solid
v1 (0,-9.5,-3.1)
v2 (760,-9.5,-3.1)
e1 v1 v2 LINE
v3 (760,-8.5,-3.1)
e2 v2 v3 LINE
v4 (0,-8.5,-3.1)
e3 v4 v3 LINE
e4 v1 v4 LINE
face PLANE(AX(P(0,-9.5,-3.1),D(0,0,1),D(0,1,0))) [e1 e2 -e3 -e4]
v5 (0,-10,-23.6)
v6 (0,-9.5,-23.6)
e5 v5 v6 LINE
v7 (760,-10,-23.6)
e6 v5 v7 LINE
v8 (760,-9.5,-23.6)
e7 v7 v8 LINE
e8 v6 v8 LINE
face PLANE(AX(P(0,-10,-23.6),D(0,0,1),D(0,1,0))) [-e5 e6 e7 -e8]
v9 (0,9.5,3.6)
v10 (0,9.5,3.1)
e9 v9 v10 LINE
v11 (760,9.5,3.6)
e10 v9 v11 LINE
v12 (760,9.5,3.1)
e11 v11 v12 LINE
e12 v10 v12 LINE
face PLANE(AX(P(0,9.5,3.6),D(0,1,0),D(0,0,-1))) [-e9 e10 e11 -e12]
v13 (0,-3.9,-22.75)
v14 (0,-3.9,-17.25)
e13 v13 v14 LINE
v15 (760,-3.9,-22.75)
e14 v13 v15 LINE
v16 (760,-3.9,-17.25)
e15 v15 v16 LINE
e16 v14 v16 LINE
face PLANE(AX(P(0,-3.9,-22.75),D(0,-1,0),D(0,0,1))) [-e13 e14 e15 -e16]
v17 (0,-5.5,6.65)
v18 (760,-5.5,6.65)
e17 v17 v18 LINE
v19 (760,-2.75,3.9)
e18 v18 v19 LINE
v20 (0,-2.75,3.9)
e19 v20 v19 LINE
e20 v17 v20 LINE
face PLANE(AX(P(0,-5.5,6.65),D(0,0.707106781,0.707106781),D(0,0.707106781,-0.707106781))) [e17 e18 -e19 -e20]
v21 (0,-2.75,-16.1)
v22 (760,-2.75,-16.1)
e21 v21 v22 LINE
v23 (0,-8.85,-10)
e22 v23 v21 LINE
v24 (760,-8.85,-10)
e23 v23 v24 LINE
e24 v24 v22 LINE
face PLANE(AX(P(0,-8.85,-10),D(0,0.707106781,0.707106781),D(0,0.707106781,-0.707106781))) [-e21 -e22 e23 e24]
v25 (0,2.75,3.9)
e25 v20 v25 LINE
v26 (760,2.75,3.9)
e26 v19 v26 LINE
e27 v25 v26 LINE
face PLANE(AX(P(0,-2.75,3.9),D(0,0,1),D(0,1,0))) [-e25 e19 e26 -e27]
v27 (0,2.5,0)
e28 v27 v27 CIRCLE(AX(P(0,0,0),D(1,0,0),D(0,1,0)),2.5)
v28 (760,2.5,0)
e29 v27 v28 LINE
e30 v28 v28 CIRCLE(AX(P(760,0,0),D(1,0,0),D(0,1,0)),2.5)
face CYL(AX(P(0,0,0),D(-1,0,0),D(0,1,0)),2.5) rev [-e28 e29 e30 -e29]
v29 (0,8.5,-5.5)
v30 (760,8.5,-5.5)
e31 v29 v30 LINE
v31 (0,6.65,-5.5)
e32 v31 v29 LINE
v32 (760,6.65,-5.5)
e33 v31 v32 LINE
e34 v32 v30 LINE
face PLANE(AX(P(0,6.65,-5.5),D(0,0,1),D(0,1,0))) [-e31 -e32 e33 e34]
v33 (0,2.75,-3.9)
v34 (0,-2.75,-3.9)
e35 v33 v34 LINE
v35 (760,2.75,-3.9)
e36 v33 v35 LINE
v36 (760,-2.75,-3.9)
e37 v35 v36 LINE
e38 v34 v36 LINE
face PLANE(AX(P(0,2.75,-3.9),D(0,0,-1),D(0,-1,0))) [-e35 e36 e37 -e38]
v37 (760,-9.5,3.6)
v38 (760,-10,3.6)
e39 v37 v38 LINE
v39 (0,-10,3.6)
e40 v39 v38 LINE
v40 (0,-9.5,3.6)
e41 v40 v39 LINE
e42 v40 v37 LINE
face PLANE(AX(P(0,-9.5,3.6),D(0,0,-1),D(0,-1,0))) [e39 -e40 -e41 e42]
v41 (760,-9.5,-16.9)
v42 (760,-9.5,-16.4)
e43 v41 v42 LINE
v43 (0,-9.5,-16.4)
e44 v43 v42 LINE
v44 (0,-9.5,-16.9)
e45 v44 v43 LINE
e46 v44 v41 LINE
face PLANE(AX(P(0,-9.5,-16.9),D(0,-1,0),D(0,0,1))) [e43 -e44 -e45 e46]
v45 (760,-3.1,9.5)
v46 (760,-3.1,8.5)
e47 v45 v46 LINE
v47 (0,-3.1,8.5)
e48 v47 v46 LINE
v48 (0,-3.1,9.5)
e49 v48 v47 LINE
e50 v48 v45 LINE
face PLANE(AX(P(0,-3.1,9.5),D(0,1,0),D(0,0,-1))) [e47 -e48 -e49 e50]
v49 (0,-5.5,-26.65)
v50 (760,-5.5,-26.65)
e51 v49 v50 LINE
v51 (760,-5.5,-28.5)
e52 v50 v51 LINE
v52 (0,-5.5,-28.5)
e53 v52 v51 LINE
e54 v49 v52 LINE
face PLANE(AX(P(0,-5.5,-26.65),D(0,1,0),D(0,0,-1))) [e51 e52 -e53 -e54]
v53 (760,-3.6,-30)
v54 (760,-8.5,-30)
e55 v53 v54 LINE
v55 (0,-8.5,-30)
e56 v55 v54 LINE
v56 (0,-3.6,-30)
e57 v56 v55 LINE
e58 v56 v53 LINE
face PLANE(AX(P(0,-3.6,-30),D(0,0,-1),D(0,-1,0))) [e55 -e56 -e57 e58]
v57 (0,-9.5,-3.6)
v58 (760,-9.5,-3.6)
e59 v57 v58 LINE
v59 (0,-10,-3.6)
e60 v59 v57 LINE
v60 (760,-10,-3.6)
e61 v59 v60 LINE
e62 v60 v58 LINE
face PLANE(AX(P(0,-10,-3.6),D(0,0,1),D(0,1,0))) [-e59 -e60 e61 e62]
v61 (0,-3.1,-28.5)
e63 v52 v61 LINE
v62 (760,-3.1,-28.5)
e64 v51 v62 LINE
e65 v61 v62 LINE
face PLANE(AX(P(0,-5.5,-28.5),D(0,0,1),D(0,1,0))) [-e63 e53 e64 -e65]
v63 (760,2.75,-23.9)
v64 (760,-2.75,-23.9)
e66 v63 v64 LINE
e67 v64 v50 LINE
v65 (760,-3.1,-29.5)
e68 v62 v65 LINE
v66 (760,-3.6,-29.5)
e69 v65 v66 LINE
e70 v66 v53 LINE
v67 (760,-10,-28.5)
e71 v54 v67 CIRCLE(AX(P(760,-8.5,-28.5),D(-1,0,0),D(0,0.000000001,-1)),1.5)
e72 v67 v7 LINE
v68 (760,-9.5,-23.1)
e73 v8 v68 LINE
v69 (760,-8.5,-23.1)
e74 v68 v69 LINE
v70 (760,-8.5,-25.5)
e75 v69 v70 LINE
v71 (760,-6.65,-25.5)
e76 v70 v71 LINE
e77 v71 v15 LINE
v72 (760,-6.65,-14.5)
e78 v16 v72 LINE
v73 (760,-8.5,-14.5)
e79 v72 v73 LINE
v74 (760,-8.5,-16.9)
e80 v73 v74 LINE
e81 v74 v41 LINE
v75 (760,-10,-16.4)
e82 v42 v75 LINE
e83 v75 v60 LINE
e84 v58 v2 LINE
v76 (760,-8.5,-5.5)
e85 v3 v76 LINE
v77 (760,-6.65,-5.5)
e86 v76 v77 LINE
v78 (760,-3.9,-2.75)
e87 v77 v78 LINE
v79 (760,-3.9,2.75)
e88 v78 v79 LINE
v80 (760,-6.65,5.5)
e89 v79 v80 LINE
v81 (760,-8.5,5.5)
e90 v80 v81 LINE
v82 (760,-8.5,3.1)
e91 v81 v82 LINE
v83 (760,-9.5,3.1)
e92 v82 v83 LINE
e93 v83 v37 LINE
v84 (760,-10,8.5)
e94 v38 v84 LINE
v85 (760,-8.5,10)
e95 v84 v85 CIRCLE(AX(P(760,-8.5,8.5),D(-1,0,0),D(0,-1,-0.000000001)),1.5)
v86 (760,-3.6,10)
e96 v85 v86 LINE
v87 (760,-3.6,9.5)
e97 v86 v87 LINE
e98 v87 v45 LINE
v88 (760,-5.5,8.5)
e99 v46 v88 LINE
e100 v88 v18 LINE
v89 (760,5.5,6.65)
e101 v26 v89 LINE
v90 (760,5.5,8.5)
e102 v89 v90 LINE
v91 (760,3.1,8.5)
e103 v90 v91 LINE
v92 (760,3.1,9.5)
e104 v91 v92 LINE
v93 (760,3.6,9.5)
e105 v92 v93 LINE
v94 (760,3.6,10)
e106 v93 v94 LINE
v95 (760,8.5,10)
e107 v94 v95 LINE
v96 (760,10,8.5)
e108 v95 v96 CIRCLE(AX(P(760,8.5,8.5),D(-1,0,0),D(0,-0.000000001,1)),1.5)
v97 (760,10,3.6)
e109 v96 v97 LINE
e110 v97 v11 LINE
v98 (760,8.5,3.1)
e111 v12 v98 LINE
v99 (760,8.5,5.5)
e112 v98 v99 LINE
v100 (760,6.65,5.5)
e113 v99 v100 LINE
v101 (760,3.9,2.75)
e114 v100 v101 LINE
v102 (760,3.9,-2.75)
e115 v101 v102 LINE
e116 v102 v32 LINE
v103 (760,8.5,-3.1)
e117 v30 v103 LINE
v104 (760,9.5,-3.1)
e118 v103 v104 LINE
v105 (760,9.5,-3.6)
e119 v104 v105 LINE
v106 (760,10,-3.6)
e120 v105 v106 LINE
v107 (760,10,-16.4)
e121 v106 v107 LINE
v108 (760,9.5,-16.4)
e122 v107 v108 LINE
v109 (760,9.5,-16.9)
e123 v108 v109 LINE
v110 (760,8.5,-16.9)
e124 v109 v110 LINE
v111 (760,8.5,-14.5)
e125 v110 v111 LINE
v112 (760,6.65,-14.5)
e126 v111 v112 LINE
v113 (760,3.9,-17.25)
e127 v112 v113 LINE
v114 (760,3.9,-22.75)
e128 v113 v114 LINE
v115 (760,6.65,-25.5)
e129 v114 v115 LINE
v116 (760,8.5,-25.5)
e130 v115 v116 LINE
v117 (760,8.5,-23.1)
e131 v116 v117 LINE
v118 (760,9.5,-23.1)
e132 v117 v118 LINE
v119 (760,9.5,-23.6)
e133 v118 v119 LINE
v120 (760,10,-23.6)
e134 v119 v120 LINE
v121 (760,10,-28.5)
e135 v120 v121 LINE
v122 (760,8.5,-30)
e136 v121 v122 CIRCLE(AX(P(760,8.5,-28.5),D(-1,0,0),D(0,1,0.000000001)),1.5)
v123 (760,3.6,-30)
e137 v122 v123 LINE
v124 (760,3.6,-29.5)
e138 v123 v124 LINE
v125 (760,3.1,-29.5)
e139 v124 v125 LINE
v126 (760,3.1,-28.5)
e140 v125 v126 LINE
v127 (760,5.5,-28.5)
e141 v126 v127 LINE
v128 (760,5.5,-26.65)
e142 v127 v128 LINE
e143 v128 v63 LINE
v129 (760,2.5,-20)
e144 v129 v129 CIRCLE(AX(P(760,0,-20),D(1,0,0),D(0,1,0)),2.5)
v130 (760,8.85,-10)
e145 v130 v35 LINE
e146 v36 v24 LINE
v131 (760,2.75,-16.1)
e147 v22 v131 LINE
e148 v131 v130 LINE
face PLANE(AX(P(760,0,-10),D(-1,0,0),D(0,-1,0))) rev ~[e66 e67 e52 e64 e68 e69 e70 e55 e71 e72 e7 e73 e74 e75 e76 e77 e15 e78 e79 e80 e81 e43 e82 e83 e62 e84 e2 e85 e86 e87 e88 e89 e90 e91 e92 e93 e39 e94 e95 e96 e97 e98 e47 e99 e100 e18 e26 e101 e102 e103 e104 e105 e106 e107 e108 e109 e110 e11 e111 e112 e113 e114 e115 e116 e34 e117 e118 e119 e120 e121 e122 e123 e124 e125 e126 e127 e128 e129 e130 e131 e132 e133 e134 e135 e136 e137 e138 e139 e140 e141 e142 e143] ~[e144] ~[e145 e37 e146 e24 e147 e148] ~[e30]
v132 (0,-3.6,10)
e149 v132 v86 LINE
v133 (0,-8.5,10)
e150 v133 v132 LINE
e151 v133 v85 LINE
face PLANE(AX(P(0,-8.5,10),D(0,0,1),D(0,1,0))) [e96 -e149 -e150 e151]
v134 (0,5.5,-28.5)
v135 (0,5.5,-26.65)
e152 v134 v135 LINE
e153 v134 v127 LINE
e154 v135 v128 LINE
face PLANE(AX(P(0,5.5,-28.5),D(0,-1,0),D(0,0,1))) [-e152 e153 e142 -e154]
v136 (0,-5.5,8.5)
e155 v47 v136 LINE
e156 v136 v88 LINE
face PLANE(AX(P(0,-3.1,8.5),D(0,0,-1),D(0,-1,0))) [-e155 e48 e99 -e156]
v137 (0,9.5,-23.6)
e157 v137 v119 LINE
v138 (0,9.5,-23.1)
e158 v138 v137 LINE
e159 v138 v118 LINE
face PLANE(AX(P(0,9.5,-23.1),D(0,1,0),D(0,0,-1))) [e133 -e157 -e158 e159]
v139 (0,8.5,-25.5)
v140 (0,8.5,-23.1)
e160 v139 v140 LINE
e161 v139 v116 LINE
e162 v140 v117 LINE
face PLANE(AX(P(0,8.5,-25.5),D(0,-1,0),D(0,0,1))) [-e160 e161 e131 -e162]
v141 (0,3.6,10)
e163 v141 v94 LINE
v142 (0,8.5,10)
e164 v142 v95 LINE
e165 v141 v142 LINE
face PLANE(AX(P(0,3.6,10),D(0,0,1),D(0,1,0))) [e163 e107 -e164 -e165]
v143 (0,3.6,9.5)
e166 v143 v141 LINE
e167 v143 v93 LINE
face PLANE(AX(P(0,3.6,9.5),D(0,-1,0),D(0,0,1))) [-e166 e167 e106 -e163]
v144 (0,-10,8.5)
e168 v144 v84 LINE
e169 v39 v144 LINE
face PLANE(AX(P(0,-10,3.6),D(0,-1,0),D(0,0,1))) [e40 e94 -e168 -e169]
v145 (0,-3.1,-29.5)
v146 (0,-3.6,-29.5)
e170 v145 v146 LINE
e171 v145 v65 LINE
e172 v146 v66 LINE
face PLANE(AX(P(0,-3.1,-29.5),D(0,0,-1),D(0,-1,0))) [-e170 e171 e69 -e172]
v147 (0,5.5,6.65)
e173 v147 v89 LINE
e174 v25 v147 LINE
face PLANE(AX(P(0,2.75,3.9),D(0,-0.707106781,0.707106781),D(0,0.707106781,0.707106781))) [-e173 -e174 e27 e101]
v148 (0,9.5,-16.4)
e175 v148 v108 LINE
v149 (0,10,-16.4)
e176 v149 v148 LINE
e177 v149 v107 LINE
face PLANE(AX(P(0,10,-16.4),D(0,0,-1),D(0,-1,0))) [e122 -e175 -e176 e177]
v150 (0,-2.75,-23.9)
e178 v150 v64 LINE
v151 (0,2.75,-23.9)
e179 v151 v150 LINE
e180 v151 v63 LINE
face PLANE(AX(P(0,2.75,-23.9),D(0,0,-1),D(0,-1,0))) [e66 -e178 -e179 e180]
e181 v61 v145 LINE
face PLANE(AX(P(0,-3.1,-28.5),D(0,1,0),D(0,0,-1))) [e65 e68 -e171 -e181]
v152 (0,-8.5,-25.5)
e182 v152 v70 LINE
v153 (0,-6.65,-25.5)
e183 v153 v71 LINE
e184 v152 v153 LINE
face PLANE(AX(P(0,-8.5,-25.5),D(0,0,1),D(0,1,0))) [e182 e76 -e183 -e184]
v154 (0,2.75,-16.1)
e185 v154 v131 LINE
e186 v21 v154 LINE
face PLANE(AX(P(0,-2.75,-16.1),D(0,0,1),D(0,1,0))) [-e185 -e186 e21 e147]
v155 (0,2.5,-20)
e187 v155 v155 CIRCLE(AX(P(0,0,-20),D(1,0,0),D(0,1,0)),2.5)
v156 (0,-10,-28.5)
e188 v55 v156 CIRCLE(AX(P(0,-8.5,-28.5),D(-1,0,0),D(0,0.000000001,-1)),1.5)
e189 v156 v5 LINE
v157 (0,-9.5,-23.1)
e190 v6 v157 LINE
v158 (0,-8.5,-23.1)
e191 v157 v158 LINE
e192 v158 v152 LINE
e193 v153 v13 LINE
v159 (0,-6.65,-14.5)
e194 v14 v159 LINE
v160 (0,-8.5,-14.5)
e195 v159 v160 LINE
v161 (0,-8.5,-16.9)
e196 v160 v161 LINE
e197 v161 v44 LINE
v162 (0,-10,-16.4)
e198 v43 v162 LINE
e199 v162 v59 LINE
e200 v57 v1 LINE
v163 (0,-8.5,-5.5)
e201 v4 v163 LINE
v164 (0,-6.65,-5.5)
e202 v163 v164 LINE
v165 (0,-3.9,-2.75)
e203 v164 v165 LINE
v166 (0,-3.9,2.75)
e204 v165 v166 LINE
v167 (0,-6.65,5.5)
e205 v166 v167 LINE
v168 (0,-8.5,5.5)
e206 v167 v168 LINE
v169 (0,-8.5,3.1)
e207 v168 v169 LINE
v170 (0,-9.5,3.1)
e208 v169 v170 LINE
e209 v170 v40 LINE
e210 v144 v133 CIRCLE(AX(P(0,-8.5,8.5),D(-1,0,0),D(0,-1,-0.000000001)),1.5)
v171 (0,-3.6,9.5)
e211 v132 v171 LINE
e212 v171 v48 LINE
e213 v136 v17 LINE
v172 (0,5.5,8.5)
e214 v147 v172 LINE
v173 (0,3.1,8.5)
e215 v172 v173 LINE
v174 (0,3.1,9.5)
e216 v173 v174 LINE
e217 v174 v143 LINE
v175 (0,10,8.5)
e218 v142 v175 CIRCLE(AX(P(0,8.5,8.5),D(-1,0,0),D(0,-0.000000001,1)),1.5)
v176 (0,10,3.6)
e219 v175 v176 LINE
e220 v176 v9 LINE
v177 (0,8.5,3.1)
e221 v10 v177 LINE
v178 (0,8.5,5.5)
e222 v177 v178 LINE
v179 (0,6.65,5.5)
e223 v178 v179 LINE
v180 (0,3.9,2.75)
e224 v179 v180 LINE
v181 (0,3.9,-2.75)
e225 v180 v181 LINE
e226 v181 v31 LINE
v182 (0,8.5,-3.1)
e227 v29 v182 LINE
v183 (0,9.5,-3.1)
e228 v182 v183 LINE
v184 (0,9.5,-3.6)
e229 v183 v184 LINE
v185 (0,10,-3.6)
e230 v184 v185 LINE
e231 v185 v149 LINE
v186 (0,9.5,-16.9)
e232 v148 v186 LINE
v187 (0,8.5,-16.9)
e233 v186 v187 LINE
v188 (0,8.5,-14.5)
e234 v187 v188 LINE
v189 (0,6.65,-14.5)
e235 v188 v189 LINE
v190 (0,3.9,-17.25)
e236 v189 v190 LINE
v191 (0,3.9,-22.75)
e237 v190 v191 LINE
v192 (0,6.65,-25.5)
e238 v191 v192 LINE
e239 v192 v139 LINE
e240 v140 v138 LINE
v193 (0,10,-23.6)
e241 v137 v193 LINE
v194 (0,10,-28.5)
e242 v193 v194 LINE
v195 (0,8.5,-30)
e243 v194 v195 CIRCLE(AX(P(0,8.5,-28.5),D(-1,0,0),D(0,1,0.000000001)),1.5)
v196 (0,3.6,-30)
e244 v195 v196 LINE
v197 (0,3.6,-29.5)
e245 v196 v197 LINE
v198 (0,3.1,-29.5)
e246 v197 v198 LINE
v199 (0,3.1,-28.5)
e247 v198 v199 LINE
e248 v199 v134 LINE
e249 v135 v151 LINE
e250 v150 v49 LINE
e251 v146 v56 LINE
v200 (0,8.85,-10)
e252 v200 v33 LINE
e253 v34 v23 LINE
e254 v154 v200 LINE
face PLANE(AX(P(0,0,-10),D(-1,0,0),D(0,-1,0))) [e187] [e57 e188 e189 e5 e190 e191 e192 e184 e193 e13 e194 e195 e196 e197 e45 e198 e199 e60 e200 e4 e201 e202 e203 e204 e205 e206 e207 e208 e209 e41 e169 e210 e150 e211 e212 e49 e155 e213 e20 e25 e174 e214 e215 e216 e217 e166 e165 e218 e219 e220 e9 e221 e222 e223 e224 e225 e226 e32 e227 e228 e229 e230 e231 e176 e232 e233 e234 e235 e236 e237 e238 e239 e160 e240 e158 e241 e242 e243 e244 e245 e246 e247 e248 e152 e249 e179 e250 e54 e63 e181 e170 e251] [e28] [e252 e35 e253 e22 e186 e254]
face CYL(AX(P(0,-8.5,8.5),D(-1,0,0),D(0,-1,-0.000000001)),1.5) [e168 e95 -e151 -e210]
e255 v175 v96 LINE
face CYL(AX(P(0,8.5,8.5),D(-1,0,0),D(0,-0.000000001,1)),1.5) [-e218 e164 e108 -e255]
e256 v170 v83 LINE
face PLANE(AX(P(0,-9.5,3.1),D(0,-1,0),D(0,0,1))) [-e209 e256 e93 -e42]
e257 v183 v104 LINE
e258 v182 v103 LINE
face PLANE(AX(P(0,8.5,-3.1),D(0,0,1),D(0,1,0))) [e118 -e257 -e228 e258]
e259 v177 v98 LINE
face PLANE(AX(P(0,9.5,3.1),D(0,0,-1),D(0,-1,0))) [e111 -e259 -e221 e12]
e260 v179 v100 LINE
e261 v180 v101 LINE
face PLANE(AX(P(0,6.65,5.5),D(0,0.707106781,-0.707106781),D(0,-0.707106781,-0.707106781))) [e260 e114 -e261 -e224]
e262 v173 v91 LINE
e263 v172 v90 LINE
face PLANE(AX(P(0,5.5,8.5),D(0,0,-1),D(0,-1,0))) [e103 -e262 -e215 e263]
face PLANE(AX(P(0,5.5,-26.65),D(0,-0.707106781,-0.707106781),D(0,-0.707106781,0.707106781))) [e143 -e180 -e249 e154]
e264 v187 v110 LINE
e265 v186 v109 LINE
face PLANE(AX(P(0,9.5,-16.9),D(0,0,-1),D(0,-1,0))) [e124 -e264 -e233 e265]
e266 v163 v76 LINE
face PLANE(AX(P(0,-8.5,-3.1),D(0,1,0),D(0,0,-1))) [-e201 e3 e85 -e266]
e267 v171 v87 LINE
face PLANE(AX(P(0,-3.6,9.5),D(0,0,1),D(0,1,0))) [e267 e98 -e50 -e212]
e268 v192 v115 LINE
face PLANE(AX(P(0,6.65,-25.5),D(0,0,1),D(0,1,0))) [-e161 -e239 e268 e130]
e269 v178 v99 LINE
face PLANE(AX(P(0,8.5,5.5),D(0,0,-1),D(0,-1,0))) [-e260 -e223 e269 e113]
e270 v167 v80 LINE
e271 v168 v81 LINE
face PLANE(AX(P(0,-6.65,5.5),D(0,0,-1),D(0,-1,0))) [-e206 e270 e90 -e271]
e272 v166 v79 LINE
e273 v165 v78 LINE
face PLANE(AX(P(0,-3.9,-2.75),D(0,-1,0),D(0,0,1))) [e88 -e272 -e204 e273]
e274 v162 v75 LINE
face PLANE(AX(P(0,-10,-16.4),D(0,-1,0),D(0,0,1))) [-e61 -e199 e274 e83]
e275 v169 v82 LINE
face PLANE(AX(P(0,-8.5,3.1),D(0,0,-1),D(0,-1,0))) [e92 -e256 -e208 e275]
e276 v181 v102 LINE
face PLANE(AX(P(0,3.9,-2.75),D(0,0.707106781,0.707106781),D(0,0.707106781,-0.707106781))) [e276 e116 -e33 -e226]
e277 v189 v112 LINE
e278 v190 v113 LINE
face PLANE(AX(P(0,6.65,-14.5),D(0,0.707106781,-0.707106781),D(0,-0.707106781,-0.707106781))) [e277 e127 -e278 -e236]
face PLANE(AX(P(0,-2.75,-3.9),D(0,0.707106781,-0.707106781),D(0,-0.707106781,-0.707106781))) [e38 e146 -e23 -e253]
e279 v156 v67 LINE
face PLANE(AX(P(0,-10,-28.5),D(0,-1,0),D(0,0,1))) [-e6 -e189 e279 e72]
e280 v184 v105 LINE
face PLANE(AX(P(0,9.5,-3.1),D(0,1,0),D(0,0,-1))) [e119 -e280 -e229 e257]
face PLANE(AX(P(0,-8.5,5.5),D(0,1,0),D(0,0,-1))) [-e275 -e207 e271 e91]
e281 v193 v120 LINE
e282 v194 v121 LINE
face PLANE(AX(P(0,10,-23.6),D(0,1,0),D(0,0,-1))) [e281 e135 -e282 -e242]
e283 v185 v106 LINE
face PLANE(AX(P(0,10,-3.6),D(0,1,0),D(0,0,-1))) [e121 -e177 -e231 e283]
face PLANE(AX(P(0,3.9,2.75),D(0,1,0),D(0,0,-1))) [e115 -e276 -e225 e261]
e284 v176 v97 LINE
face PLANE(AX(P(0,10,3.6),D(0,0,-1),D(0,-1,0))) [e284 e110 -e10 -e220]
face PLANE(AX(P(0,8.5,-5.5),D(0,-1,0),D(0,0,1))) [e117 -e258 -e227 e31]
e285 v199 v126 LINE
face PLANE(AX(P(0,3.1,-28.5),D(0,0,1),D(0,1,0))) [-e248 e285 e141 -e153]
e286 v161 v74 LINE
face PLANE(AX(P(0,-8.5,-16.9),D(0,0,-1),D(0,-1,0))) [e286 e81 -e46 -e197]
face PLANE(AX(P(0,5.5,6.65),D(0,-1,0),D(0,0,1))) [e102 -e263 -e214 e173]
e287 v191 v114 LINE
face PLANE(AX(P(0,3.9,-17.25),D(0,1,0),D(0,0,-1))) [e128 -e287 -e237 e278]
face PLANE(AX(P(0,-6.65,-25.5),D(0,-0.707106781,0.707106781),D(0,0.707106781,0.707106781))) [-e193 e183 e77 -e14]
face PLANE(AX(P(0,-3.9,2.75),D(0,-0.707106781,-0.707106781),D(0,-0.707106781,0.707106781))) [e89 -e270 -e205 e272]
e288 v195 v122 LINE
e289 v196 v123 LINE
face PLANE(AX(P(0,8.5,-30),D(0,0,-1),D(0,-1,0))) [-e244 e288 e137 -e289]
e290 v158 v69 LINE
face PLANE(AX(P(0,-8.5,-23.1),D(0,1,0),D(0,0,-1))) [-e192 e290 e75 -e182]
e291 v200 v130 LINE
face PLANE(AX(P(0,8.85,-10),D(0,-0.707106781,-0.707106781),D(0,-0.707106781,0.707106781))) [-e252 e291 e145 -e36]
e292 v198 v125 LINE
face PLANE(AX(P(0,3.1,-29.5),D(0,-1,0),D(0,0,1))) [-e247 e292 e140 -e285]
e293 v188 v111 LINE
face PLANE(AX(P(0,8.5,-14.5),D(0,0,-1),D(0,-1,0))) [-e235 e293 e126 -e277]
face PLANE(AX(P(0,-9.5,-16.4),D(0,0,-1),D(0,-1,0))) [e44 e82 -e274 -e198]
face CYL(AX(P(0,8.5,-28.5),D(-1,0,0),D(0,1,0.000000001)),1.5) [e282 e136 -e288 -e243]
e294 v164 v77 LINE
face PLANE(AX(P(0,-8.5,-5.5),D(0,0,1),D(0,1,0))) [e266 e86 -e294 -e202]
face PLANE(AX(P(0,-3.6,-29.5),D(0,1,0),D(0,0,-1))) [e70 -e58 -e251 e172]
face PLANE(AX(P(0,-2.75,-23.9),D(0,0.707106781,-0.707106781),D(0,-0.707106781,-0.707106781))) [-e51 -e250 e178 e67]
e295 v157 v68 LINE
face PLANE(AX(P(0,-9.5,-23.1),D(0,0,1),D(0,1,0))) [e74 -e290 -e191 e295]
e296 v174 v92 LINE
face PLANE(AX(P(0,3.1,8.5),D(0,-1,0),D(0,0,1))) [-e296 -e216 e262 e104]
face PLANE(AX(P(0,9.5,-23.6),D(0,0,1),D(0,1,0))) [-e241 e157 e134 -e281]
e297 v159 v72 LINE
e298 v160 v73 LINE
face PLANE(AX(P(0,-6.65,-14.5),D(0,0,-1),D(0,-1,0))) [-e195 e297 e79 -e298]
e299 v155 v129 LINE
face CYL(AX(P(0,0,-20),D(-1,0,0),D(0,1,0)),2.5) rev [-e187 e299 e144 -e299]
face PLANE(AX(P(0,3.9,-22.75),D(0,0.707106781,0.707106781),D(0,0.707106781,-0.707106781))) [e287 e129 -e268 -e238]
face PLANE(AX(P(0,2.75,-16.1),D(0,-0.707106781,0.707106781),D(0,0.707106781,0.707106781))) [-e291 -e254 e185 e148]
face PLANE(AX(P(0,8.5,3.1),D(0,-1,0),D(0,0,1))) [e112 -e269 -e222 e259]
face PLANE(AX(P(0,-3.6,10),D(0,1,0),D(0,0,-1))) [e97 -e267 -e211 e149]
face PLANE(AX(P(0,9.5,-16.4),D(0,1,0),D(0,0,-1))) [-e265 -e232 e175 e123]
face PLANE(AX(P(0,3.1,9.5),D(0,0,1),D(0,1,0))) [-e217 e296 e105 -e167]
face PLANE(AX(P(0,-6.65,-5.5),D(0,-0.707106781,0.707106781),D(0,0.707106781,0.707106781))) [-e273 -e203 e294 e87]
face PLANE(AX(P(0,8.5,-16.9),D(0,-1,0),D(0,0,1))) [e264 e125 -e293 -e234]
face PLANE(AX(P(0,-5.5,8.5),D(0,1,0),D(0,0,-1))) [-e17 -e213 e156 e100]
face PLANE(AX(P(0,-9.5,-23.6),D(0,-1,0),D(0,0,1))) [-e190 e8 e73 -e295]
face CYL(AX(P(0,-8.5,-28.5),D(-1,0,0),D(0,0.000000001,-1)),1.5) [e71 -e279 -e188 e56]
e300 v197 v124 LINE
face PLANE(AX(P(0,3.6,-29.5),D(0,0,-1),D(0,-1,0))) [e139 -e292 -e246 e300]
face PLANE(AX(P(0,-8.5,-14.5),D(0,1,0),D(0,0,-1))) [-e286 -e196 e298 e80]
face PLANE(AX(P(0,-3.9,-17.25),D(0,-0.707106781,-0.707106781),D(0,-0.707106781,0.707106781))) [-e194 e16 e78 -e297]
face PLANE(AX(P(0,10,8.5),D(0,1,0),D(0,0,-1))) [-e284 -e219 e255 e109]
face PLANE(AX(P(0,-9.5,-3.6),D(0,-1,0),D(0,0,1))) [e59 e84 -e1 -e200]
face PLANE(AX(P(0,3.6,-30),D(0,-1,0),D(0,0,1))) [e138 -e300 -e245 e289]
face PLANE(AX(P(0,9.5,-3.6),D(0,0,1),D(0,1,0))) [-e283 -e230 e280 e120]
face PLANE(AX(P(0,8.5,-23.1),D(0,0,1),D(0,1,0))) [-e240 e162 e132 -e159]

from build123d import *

# Parameters (mm, degrees)
SKETCH1_R                = 2.5
F_20_X_40_X_T1_5_1_DEPTH = 760


with BuildPart() as part:
    # Sketch1 → 铝型材 20 X 40 X T1.5(1) (new body)
    with BuildSketch(Plane.YZ):
        with BuildLine():
            Line((-3.6, 10), (-3.6, 9.5))
            Line((-3.6, 9.5), (-3.1, 9.5))
            Line((-3.1, 9.5), (-3.1, 8.5))
            Line((-3.1, 8.5), (-5.5, 8.5))
            Line((-5.5, 8.5), (-5.5, 6.65))
            Line((-5.5, 6.65), (-2.75, 3.9))
            Line((-2.75, 3.9), (2.75, 3.9))
            Line((2.75, 3.9), (5.5, 6.65))
            Line((5.5, 6.65), (5.5, 8.5))
            Line((5.5, 8.5), (3.1, 8.5))
            Line((3.1, 8.5), (3.1, 9.5))
            Line((3.1, 9.5), (3.6, 9.5))
            Line((3.6, 9.5), (3.6, 10))
            Line((3.6, 10), (8.5, 10))
            ThreePointArc((8.5, 10), (9.560660172, 9.560660172), (10, 8.5))
            Line((10, 8.5), (10, 3.6))
            Line((10, 3.6), (9.5, 3.6))
            Line((9.5, 3.6), (9.5, 3.1))
            Line((9.5, 3.1), (8.5, 3.1))
            Line((8.5, 3.1), (8.5, 5.5))
            Line((8.5, 5.5), (6.65, 5.5))
            Line((6.65, 5.5), (3.9, 2.75))
            Line((3.9, 2.75), (3.9, -2.75))
            Line((3.9, -2.75), (6.65, -5.5))
            Line((6.65, -5.5), (8.5, -5.5))
            Line((8.5, -5.5), (8.5, -3.1))
            Line((8.5, -3.1), (9.5, -3.1))
            Line((9.5, -3.1), (9.5, -3.6))
            Line((9.5, -3.6), (10, -3.6))
            Line((10, -3.6), (10, -16.4))
            Line((10, -16.4), (9.5, -16.4))
            Line((9.5, -16.4), (9.5, -16.9))
            Line((9.5, -16.9), (8.5, -16.9))
            Line((8.5, -16.9), (8.5, -14.5))
            Line((8.5, -14.5), (6.65, -14.5))
            Line((6.65, -14.5), (3.9, -17.25))
            Line((3.9, -17.25), (3.9, -22.75))
            Line((3.9, -22.75), (6.65, -25.5))
            Line((6.65, -25.5), (8.5, -25.5))
            Line((8.5, -25.5), (8.5, -23.1))
            Line((8.5, -23.1), (9.5, -23.1))
            Line((9.5, -23.1), (9.5, -23.6))
            Line((9.5, -23.6), (10, -23.6))
            Line((10, -23.6), (10, -28.5))
            ThreePointArc((10, -28.5), (9.560660172, -29.560660172), (8.5, -30))
            Line((8.5, -30), (3.6, -30))
            Line((3.6, -30), (3.6, -29.5))
            Line((3.6, -29.5), (3.1, -29.5))
            Line((3.1, -29.5), (3.1, -28.5))
            Line((3.1, -28.5), (5.5, -28.5))
            Line((5.5, -28.5), (5.5, -26.65))
            Line((5.5, -26.65), (2.75, -23.9))
            Line((2.75, -23.9), (-2.75, -23.9))
            Line((-2.75, -23.9), (-5.5, -26.65))
            Line((-5.5, -26.65), (-5.5, -28.5))
            Line((-5.5, -28.5), (-3.1, -28.5))
            Line((-3.1, -28.5), (-3.1, -29.5))
            Line((-3.1, -29.5), (-3.6, -29.5))
            Line((-3.6, -29.5), (-3.6, -30))
            Line((-3.6, -30), (-8.5, -30))
            ThreePointArc((-8.5, -30), (-9.560660172, -29.560660172), (-10, -28.5))
            Line((-10, -28.5), (-10, -23.6))
            Line((-10, -23.6), (-9.5, -23.6))
            Line((-9.5, -23.6), (-9.5, -23.1))
            Line((-9.5, -23.1), (-8.5, -23.1))
            Line((-8.5, -23.1), (-8.5, -25.5))
            Line((-8.5, -25.5), (-6.65, -25.5))
            Line((-6.65, -25.5), (-3.9, -22.75))
            Line((-3.9, -22.75), (-3.9, -17.25))
            Line((-3.9, -17.25), (-6.65, -14.5))
            Line((-6.65, -14.5), (-8.5, -14.5))
            Line((-8.5, -14.5), (-8.5, -16.9))
            Line((-8.5, -16.9), (-9.5, -16.9))
            Line((-9.5, -16.9), (-9.5, -16.4))
            Line((-9.5, -16.4), (-10, -16.4))
            Line((-10, -16.4), (-10, -3.6))
            Line((-10, -3.6), (-9.5, -3.6))
            Line((-9.5, -3.6), (-9.5, -3.1))
            Line((-9.5, -3.1), (-8.5, -3.1))
            Line((-8.5, -3.1), (-8.5, -5.5))
            Line((-8.5, -5.5), (-6.65, -5.5))
            Line((-6.65, -5.5), (-3.9, -2.75))
            Line((-3.9, -2.75), (-3.9, 2.75))
            Line((-3.9, 2.75), (-6.65, 5.5))
            Line((-6.65, 5.5), (-8.5, 5.5))
            Line((-8.5, 5.5), (-8.5, 3.1))
            Line((-8.5, 3.1), (-9.5, 3.1))
            Line((-9.5, 3.1), (-9.5, 3.6))
            Line((-9.5, 3.6), (-10, 3.6))
            Line((-10, 3.6), (-10, 8.5))
            ThreePointArc((-10, 8.5), (-9.560660172, 9.560660172), (-8.5, 10))
            Line((-8.5, 10), (-3.6, 10))
        make_face()
        Circle(SKETCH1_R, mode=Mode.SUBTRACT)
        with Locations((0, -20)):
            Circle(SKETCH1_R, mode=Mode.SUBTRACT)
        Polygon((8.85, -10), (2.75, -3.9), (-2.75, -3.9), (-8.85, -10), (-2.75, -16.1), (2.75, -16.1), align=None, mode=Mode.SUBTRACT)
    extrude(amount=F_20_X_40_X_T1_5_1_DEPTH)


solid = part.part
